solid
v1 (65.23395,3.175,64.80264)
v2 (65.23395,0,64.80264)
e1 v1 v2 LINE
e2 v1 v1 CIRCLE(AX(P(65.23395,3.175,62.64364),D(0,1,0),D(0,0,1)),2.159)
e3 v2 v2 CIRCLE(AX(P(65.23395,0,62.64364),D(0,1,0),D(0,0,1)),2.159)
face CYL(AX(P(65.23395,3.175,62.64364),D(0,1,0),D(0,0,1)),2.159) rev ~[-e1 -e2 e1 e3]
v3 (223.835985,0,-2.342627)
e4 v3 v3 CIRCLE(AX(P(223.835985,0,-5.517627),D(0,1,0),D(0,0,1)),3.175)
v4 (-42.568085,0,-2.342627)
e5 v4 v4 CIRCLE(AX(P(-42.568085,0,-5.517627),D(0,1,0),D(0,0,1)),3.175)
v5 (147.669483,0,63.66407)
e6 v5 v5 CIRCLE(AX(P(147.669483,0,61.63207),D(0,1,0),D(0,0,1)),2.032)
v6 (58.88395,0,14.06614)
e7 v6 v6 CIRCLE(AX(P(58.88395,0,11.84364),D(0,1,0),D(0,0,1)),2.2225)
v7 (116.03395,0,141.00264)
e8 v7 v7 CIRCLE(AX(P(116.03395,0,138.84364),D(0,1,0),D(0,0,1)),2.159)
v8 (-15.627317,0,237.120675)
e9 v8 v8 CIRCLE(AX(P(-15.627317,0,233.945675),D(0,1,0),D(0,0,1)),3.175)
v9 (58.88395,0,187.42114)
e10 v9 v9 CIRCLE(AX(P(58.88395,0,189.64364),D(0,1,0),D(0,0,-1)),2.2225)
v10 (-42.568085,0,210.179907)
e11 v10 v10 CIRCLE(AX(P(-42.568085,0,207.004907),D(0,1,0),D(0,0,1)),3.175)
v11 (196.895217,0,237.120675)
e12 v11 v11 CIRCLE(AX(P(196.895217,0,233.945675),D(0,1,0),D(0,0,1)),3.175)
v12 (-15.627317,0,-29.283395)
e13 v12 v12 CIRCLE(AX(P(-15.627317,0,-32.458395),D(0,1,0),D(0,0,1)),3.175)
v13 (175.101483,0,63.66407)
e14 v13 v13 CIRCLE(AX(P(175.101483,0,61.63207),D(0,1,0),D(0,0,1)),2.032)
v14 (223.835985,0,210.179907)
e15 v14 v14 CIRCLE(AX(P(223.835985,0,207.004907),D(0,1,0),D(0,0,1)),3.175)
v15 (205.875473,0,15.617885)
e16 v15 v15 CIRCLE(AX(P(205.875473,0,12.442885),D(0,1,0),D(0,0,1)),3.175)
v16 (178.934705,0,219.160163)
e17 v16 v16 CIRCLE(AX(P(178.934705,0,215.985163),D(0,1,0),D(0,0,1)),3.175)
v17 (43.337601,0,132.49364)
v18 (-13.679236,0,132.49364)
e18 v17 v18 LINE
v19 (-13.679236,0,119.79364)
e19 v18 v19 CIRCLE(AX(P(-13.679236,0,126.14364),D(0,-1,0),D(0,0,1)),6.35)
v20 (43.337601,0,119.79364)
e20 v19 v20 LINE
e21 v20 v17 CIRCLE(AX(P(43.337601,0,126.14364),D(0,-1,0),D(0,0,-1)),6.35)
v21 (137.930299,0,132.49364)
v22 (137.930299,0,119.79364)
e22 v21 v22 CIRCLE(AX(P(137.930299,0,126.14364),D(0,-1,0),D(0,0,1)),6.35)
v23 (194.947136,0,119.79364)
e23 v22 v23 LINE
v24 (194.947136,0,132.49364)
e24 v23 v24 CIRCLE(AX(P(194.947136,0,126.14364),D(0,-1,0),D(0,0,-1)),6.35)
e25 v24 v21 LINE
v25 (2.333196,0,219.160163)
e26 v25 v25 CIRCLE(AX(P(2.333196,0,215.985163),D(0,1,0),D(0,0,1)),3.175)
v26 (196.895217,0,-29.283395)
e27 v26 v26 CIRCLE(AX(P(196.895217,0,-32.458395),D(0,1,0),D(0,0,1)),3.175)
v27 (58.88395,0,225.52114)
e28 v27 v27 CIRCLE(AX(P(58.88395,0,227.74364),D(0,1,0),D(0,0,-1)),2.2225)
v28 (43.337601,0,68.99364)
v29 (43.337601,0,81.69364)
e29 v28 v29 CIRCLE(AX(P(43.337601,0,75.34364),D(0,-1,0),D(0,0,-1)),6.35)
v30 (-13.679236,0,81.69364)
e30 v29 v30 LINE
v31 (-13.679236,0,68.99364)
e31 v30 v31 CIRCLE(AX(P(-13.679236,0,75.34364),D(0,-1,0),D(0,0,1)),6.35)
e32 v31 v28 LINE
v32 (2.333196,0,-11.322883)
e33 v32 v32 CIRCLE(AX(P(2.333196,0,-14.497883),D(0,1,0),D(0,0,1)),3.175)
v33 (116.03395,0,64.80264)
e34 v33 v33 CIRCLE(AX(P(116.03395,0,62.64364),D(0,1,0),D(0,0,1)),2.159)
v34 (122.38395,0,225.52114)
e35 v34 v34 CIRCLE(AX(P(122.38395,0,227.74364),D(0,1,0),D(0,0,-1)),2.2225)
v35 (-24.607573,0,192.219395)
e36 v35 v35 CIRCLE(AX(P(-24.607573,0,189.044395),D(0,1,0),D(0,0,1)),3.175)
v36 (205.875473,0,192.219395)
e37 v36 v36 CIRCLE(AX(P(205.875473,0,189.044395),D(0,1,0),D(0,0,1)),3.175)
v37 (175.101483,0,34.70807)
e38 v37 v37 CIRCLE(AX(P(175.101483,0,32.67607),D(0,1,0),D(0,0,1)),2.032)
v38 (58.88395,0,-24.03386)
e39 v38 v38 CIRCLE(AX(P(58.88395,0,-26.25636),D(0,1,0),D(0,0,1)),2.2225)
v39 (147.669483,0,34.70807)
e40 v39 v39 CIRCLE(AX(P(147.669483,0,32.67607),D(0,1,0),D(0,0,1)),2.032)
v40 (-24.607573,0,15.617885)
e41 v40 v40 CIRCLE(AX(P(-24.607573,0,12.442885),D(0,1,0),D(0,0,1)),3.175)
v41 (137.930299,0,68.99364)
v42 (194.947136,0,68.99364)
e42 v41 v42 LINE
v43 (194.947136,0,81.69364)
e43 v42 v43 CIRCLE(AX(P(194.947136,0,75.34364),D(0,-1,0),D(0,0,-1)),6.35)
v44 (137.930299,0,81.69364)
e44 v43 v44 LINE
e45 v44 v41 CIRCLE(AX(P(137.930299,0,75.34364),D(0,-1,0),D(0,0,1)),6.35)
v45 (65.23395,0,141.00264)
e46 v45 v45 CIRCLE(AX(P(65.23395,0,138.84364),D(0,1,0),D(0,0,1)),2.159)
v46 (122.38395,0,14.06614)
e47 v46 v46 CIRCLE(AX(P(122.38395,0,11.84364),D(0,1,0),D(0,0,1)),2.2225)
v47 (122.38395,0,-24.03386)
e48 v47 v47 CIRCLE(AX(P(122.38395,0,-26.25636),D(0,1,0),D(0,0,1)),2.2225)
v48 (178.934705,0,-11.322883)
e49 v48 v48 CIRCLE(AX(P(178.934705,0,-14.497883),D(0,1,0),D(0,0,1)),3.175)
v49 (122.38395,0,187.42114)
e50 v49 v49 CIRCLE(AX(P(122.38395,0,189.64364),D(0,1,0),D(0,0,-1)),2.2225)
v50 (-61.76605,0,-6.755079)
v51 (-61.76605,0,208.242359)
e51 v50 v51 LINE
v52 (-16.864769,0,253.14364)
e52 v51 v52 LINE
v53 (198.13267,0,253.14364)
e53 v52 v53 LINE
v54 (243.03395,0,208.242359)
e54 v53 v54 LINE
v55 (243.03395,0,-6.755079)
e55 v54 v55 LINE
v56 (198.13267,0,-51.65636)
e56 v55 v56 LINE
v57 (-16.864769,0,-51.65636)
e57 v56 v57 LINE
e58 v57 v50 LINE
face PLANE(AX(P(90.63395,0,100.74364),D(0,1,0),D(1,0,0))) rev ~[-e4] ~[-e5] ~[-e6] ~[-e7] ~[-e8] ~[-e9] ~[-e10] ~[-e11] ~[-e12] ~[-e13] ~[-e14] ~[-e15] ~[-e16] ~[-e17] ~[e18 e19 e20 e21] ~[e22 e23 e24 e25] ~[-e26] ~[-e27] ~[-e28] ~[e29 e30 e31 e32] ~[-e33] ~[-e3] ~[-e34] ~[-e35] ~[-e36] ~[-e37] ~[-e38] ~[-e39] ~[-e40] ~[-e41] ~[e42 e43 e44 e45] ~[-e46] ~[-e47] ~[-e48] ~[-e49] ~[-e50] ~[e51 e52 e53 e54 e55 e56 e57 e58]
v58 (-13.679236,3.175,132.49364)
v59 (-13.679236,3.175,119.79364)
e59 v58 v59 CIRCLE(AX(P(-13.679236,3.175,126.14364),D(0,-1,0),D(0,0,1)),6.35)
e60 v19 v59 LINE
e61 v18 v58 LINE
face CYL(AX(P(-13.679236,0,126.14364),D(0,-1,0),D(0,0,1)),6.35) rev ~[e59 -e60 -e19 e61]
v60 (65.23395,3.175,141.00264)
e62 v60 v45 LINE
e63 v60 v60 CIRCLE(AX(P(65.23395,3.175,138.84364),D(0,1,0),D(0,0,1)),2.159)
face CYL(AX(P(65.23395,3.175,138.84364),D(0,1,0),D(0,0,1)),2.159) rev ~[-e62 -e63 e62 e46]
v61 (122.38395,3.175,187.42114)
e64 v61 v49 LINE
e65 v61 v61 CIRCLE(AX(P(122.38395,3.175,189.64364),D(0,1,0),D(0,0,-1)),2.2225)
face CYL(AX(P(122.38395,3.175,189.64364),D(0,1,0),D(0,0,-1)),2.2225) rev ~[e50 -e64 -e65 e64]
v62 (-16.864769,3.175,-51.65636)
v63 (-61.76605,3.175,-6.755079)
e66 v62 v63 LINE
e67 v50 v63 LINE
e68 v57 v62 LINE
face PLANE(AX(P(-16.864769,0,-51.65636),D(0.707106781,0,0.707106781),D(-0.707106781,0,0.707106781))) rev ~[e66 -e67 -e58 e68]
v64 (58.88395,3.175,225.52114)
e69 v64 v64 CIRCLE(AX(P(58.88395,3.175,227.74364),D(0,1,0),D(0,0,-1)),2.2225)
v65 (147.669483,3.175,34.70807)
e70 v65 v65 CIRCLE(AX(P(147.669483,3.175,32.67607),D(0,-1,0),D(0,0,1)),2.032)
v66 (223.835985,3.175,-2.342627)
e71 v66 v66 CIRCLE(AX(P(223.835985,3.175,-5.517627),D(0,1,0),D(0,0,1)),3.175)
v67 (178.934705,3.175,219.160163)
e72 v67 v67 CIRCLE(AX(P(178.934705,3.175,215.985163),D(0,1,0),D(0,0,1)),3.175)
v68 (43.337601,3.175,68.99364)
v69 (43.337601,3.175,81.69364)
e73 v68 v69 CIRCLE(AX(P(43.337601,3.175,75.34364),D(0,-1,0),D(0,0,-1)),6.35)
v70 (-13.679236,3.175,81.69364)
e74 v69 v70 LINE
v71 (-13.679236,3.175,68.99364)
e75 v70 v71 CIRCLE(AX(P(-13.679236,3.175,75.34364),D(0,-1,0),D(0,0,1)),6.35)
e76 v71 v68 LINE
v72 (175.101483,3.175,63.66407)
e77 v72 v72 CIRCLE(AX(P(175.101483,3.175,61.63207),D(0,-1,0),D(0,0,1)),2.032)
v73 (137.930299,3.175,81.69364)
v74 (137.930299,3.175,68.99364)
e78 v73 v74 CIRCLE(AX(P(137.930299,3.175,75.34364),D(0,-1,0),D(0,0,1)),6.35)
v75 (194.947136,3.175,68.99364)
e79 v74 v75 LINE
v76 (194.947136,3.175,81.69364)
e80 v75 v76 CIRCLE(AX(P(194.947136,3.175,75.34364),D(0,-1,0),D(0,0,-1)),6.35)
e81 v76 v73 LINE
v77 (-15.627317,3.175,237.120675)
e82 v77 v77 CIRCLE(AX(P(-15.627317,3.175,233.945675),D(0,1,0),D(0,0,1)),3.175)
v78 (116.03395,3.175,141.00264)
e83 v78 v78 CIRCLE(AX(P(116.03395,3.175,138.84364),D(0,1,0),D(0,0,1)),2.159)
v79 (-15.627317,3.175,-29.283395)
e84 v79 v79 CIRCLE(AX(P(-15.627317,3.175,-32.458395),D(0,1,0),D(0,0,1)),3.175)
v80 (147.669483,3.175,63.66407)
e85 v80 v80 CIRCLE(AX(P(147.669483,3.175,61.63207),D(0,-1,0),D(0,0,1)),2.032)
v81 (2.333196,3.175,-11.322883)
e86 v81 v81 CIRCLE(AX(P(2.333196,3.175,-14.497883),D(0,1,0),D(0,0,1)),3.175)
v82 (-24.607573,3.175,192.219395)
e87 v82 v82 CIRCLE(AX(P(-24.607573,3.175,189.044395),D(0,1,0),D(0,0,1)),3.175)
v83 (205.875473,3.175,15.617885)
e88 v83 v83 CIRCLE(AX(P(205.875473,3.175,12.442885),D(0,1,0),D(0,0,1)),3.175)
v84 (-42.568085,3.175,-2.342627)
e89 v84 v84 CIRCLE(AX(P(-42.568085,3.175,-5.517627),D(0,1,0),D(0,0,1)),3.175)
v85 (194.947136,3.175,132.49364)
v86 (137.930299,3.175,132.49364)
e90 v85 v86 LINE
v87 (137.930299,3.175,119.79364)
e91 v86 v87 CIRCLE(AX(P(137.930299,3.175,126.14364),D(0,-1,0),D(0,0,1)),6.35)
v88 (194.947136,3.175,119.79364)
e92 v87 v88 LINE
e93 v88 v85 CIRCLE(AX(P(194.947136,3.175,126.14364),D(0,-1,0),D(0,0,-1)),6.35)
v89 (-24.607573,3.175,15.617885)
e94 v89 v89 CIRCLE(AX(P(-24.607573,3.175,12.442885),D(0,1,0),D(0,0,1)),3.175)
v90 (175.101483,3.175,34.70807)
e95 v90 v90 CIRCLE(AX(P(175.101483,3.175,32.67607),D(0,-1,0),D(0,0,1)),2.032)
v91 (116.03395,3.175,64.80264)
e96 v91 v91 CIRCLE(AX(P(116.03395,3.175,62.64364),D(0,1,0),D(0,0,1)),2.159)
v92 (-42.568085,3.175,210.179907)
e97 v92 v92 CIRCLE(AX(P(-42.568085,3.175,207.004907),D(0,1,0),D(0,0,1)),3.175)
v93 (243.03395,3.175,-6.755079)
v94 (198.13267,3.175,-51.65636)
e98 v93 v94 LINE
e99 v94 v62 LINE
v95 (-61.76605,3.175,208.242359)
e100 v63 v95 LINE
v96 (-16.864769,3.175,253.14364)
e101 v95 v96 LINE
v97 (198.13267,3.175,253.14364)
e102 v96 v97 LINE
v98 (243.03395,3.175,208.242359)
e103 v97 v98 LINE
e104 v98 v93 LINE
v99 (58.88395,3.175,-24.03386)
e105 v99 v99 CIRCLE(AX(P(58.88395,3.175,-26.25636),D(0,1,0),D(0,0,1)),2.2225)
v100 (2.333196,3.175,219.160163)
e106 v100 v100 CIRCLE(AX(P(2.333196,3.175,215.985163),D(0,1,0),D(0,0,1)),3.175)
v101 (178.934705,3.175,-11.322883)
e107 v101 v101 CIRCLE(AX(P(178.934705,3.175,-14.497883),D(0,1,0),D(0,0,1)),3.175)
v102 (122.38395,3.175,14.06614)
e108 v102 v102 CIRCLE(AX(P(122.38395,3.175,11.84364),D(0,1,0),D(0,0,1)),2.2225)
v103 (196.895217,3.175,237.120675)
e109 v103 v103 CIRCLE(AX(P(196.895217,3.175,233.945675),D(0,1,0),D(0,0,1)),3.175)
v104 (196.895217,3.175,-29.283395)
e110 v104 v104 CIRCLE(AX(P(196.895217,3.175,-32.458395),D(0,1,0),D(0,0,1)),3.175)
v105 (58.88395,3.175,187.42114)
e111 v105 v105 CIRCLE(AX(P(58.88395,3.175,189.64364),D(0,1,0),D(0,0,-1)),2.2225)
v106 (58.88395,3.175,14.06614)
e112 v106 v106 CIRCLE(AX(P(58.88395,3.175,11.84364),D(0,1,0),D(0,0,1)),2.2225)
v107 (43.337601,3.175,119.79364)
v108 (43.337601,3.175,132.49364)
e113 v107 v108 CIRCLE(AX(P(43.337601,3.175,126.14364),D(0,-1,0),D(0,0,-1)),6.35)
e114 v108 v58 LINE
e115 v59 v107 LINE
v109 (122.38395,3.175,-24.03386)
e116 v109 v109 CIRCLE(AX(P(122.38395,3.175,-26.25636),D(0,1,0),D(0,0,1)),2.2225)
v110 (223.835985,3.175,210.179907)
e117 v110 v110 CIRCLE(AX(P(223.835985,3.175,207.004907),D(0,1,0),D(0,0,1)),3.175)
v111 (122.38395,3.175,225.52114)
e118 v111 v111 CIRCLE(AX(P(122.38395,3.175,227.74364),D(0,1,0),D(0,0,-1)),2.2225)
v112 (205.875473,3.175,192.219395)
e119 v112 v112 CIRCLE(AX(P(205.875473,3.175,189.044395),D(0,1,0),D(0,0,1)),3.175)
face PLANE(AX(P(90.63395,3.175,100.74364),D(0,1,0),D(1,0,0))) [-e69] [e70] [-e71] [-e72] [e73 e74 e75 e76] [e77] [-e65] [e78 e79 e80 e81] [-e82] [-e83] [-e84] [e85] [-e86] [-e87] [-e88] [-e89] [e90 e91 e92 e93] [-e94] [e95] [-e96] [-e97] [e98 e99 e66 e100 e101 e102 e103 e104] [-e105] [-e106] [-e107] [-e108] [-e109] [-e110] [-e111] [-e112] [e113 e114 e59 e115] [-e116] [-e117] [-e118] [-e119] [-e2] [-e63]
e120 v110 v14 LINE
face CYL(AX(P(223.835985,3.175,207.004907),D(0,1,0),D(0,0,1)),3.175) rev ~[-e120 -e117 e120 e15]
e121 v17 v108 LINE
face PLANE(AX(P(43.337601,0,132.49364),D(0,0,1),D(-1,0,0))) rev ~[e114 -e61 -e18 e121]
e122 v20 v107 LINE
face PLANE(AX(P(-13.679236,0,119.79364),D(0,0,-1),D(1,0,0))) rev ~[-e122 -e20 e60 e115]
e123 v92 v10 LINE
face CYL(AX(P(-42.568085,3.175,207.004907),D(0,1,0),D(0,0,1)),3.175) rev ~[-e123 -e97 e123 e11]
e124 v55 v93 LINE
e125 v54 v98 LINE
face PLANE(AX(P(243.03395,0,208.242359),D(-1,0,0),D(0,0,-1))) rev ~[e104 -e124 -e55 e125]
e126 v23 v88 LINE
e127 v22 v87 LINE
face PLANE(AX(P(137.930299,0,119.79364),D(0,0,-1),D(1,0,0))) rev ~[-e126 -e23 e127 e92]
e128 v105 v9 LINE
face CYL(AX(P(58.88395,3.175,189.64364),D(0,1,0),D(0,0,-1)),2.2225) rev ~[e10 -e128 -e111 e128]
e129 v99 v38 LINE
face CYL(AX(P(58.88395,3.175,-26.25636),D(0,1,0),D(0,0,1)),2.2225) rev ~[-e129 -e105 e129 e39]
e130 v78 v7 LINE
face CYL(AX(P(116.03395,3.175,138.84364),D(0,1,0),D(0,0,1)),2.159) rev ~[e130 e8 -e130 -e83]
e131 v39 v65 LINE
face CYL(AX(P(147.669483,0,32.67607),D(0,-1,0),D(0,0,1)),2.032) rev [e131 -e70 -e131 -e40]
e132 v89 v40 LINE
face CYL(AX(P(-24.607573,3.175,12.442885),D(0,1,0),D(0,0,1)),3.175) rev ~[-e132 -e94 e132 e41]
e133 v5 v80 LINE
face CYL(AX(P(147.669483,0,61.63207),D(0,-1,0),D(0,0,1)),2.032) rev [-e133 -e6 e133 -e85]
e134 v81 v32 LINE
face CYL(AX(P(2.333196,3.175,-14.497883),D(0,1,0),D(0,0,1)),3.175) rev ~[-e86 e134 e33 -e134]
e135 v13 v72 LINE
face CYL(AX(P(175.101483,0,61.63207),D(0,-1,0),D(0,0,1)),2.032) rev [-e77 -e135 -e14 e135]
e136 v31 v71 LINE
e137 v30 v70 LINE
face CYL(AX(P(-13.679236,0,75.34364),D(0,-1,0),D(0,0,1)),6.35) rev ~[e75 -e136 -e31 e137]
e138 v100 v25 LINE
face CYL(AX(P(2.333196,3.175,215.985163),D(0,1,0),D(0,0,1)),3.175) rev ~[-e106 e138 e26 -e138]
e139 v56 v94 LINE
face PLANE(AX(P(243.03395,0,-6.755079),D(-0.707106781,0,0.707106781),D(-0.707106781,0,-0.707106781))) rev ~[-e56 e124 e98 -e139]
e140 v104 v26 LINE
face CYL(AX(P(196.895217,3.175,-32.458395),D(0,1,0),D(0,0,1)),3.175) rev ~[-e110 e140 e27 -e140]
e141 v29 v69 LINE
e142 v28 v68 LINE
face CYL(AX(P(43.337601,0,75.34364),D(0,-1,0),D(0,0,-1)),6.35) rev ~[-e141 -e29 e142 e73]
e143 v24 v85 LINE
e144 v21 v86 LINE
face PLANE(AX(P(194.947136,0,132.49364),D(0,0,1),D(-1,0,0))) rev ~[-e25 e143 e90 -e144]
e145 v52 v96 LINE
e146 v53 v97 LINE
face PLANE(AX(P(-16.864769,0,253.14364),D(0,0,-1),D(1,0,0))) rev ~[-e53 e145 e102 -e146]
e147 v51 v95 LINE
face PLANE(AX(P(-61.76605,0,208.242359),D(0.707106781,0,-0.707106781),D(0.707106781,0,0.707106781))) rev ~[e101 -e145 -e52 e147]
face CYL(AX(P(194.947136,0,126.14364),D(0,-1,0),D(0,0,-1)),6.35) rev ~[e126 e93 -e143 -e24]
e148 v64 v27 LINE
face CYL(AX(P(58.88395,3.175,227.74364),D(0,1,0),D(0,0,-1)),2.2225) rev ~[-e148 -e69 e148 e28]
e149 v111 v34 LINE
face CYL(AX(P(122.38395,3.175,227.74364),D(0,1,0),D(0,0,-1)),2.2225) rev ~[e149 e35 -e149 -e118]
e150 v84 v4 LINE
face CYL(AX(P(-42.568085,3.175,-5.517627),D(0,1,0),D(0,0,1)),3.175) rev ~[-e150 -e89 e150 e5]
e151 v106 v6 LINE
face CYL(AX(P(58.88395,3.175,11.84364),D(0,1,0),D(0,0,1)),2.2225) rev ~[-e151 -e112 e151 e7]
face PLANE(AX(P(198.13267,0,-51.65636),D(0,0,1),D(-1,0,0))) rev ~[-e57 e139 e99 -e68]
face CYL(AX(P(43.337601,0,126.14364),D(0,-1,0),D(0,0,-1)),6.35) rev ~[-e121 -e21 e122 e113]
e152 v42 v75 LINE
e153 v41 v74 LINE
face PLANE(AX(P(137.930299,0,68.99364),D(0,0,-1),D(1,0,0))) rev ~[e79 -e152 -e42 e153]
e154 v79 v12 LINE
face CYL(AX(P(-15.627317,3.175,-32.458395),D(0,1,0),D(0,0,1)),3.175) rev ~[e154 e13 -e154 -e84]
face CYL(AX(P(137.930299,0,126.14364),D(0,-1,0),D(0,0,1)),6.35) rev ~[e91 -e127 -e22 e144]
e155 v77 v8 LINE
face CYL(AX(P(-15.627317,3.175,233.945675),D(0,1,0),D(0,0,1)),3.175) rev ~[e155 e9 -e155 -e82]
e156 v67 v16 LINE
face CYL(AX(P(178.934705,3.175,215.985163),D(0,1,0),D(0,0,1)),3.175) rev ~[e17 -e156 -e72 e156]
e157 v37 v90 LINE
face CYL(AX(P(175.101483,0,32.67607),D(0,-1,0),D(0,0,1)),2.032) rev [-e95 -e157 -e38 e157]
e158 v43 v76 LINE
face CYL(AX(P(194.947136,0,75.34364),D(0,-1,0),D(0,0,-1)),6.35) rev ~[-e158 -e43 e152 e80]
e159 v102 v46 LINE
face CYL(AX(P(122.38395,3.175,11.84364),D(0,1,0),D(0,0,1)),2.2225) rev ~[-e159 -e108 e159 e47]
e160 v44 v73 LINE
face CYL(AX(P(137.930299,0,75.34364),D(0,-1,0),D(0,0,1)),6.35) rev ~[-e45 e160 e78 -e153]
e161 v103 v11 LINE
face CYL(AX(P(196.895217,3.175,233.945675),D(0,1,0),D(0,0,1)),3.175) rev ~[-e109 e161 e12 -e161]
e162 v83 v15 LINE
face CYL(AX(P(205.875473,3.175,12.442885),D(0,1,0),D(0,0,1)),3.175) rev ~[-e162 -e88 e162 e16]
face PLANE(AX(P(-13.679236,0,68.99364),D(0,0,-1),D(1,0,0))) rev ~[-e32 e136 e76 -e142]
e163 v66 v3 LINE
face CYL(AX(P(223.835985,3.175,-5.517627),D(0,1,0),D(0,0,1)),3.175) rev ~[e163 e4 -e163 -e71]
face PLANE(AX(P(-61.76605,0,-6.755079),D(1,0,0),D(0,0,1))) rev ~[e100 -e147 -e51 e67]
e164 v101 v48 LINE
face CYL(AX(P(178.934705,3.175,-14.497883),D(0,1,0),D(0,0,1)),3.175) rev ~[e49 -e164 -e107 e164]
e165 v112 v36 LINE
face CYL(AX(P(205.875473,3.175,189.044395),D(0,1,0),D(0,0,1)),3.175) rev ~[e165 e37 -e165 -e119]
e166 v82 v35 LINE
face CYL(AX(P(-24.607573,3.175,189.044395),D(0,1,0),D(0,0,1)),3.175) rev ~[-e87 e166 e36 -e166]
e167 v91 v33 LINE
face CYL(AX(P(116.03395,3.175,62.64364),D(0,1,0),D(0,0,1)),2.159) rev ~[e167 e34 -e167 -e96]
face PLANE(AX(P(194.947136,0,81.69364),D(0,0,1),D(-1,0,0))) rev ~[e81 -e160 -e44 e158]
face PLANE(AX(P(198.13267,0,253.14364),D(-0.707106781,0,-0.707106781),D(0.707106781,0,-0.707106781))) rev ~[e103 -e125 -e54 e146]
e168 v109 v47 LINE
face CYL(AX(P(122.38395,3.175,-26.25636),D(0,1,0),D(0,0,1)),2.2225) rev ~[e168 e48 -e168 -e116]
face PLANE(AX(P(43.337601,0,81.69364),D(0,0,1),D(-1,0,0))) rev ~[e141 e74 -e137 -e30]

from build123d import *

# Parameters (mm, degrees)
BOSS_EXTRUDE1_DEPTH = 3.175
SKETCH2_R           = 3.175
CUT_EXTRUDE1_DEPTH  = 6.35
SKETCH3_R           = 2.159
CUT_EXTRUDE2_DEPTH  = 6.35
SKETCH4_R           = 2.2225
CUT_EXTRUDE3_DEPTH  = 351.937720963
SKETCH5_R           = 2.032
CUT_EXTRUDE5_DEPTH  = 351.937720963


with BuildPart() as part:
    # Sketch1 → Boss-Extrude1 (new body)
    with BuildSketch(Plane(origin=(0, 0, 0), x_dir=(1, 0, 0), z_dir=(0, 1, 0))):
        Polygon((-16.864769233, 51.656360067), (-61.766049839, 6.755079462), (-61.766049839, -208.242359328), (-16.864769233, -253.143639933), (198.132669556, -253.143639933), (243.033950161, -208.242359328), (243.033950161, 6.755079462), (198.132669556, 51.656360067), align=None)
        with BuildLine():
            ThreePointArc((43.337601054, -119.793639933), (49.687601054, -126.143639933), (43.337601054, -132.493639933))
            Line((43.337601054, -132.493639933), (-13.679235779, -132.493639933))
            ThreePointArc((-13.679235779, -132.493639933), (-20.029235779, -126.143639933), (-13.679235779, -119.793639933))
            Line((-13.679235779, -119.793639933), (43.337601054, -119.793639933))
        make_face(mode=Mode.SUBTRACT)
        with BuildLine():
            Line((194.947136102, -132.493639933), (137.930299269, -132.493639933))
            ThreePointArc((137.930299269, -132.493639933), (131.580299269, -126.143639933), (137.930299269, -119.793639933))
            Line((137.930299269, -119.793639933), (194.947136102, -119.793639933))
            ThreePointArc((194.947136102, -119.793639933), (201.297136102, -126.143639933), (194.947136102, -132.493639933))
        make_face(mode=Mode.SUBTRACT)
        with BuildLine():
            Line((-13.679235779, -68.993639933), (43.337601054, -68.993639933))
            ThreePointArc((43.337601054, -68.993639933), (49.687601054, -75.343639933), (43.337601054, -81.693639933))
            Line((43.337601054, -81.693639933), (-13.679235779, -81.693639933))
            ThreePointArc((-13.679235779, -81.693639933), (-20.029235779, -75.343639933), (-13.679235779, -68.993639933))
        make_face(mode=Mode.SUBTRACT)
        with BuildLine():
            ThreePointArc((137.930299269, -81.693639933), (131.580299269, -75.343639933), (137.930299269, -68.993639933))
            Line((137.930299269, -68.993639933), (194.947136102, -68.993639933))
            ThreePointArc((194.947136102, -68.993639933), (201.297136102, -75.343639933), (194.947136102, -81.693639933))
            Line((194.947136102, -81.693639933), (137.930299269, -81.693639933))
        make_face(mode=Mode.SUBTRACT)
    extrude(amount=BOSS_EXTRUDE1_DEPTH)

    # Sketch2 → Cut-Extrude1 (cut)
    with BuildSketch(Plane(origin=(0, 3.175, 0), x_dir=(1, 0, 0), z_dir=(0, 1, 0))):
        with Locations(Location((-15.627316695, 32.458395287, 0), (0, 0, 270))):
            Circle(SKETCH2_R)
        with Locations(Location((2.333195547, 14.497883045, 0), (0, 0, 270))):
            Circle(SKETCH2_R)
        with Locations(Location((-24.607572816, -12.442885319, 0), (0, 0, 270))):
            Circle(SKETCH2_R)
        with Locations(Location((-42.568085059, 5.517626924, 0), (0, 0, 270))):
            Circle(SKETCH2_R)
        with Locations(Location((205.875473139, -12.442885319, 0), (0, 0, 270))):
            Circle(SKETCH2_R)
        with Locations(Location((223.835985381, 5.517626924, 0), (0, 0, 270))):
            Circle(SKETCH2_R)
        with Locations(Location((178.934704776, 14.497883045, 0), (0, 0, 270))):
            Circle(SKETCH2_R)
        with Locations(Location((196.895217018, 32.458395287, 0), (0, 0, 270))):
            Circle(SKETCH2_R)
        with Locations(Location((-24.607572816, -189.044394548, 0), (0, 0, 270))):
            Circle(SKETCH2_R)
        with Locations(Location((-42.568085059, -207.00490679, 0), (0, 0, 270))):
            Circle(SKETCH2_R)
        with Locations(Location((-15.627316695, -233.945675153, 0), (0, 0, 270))):
            Circle(SKETCH2_R)
        with Locations(Location((2.333195547, -215.985162911, 0), (0, 0, 270))):
            Circle(SKETCH2_R)
        with Locations(Location((223.835985381, -207.00490679, 0), (0, 0, 270))):
            Circle(SKETCH2_R)
        with Locations(Location((196.895217018, -233.945675153, 0), (0, 0, 270))):
            Circle(SKETCH2_R)
        with Locations(Location((178.934704776, -215.985162911, 0), (0, 0, 270))):
            Circle(SKETCH2_R)
        with Locations(Location((205.875473139, -189.044394548, 0), (0, 0, 270))):
            Circle(SKETCH2_R)
    extrude(amount=-CUT_EXTRUDE1_DEPTH, mode=Mode.SUBTRACT)

    # Sketch3 → Cut-Extrude2 (cut)
    with BuildSketch(Plane(origin=(0, 3.175, 0), x_dir=(1, 0, 0), z_dir=(0, 1, 0))):
        with Locations(Location((65.233950161, -62.643639933, 0), (0, 0, 270))):
            Circle(SKETCH3_R)
        with Locations(Location((116.033950161, -62.643639933, 0), (0, 0, 270))):
            Circle(SKETCH3_R)
        with Locations(Location((65.233950161, -138.843639933, 0), (0, 0, 270))):
            Circle(SKETCH3_R)
        with Locations(Location((116.033950161, -138.843639933, 0), (0, 0, 270))):
            Circle(SKETCH3_R)
    extrude(amount=-CUT_EXTRUDE2_DEPTH, mode=Mode.SUBTRACT)

    # Sketch4 → Cut-Extrude3 (cut, through all)
    with BuildSketch(Plane(origin=(0, 3.175, 0), x_dir=(1, 0, 0), z_dir=(0, 1, 0))):
        with Locations(Location((58.883950161, 26.256360067, 0), (0, 0, 270))):
            Circle(SKETCH4_R)
        with Locations(Location((122.383950161, 26.256360067, 0), (0, 0, 270))):
            Circle(SKETCH4_R)
        with Locations(Location((58.883950161, -11.843639933, 0), (0, 0, 270))):
            Circle(SKETCH4_R)
        with Locations(Location((122.383950161, -11.843639933, 0), (0, 0, 270))):
            Circle(SKETCH4_R)
        with Locations(Location((122.383950161, -189.643639933, 0), (0, 0, 90))):
            Circle(SKETCH4_R)
        with Locations(Location((58.883950161, -189.643639933, 0), (0, 0, 90))):
            Circle(SKETCH4_R)
        with Locations(Location((122.383950161, -227.743639933, 0), (0, 0, 90))):
            Circle(SKETCH4_R)
        with Locations(Location((58.883950161, -227.743639933, 0), (0, 0, 90))):
            Circle(SKETCH4_R)
    extrude(amount=-CUT_EXTRUDE3_DEPTH, mode=Mode.SUBTRACT)

    # Sketch5 → Cut-Extrude5 (cut, through all)
    with BuildSketch(Plane(origin=(0, 0, 0), x_dir=(1, 0, 0), z_dir=(0, 1, 0))):
        with Locations(Location((147.669482851, -32.676069571, 0), (0, 0, 270))):
            Circle(SKETCH5_R)
        with Locations(Location((175.101482851, -32.676069571, 0), (0, 0, 270))):
            Circle(SKETCH5_R)
        with Locations(Location((175.101482851, -61.632069571, 0), (0, 0, 270))):
            Circle(SKETCH5_R)
        with Locations(Location((147.669482851, -61.632069571, 0), (0, 0, 270))):
            Circle(SKETCH5_R)
    extrude(amount=CUT_EXTRUDE5_DEPTH, mode=Mode.SUBTRACT)


solid = part.part
